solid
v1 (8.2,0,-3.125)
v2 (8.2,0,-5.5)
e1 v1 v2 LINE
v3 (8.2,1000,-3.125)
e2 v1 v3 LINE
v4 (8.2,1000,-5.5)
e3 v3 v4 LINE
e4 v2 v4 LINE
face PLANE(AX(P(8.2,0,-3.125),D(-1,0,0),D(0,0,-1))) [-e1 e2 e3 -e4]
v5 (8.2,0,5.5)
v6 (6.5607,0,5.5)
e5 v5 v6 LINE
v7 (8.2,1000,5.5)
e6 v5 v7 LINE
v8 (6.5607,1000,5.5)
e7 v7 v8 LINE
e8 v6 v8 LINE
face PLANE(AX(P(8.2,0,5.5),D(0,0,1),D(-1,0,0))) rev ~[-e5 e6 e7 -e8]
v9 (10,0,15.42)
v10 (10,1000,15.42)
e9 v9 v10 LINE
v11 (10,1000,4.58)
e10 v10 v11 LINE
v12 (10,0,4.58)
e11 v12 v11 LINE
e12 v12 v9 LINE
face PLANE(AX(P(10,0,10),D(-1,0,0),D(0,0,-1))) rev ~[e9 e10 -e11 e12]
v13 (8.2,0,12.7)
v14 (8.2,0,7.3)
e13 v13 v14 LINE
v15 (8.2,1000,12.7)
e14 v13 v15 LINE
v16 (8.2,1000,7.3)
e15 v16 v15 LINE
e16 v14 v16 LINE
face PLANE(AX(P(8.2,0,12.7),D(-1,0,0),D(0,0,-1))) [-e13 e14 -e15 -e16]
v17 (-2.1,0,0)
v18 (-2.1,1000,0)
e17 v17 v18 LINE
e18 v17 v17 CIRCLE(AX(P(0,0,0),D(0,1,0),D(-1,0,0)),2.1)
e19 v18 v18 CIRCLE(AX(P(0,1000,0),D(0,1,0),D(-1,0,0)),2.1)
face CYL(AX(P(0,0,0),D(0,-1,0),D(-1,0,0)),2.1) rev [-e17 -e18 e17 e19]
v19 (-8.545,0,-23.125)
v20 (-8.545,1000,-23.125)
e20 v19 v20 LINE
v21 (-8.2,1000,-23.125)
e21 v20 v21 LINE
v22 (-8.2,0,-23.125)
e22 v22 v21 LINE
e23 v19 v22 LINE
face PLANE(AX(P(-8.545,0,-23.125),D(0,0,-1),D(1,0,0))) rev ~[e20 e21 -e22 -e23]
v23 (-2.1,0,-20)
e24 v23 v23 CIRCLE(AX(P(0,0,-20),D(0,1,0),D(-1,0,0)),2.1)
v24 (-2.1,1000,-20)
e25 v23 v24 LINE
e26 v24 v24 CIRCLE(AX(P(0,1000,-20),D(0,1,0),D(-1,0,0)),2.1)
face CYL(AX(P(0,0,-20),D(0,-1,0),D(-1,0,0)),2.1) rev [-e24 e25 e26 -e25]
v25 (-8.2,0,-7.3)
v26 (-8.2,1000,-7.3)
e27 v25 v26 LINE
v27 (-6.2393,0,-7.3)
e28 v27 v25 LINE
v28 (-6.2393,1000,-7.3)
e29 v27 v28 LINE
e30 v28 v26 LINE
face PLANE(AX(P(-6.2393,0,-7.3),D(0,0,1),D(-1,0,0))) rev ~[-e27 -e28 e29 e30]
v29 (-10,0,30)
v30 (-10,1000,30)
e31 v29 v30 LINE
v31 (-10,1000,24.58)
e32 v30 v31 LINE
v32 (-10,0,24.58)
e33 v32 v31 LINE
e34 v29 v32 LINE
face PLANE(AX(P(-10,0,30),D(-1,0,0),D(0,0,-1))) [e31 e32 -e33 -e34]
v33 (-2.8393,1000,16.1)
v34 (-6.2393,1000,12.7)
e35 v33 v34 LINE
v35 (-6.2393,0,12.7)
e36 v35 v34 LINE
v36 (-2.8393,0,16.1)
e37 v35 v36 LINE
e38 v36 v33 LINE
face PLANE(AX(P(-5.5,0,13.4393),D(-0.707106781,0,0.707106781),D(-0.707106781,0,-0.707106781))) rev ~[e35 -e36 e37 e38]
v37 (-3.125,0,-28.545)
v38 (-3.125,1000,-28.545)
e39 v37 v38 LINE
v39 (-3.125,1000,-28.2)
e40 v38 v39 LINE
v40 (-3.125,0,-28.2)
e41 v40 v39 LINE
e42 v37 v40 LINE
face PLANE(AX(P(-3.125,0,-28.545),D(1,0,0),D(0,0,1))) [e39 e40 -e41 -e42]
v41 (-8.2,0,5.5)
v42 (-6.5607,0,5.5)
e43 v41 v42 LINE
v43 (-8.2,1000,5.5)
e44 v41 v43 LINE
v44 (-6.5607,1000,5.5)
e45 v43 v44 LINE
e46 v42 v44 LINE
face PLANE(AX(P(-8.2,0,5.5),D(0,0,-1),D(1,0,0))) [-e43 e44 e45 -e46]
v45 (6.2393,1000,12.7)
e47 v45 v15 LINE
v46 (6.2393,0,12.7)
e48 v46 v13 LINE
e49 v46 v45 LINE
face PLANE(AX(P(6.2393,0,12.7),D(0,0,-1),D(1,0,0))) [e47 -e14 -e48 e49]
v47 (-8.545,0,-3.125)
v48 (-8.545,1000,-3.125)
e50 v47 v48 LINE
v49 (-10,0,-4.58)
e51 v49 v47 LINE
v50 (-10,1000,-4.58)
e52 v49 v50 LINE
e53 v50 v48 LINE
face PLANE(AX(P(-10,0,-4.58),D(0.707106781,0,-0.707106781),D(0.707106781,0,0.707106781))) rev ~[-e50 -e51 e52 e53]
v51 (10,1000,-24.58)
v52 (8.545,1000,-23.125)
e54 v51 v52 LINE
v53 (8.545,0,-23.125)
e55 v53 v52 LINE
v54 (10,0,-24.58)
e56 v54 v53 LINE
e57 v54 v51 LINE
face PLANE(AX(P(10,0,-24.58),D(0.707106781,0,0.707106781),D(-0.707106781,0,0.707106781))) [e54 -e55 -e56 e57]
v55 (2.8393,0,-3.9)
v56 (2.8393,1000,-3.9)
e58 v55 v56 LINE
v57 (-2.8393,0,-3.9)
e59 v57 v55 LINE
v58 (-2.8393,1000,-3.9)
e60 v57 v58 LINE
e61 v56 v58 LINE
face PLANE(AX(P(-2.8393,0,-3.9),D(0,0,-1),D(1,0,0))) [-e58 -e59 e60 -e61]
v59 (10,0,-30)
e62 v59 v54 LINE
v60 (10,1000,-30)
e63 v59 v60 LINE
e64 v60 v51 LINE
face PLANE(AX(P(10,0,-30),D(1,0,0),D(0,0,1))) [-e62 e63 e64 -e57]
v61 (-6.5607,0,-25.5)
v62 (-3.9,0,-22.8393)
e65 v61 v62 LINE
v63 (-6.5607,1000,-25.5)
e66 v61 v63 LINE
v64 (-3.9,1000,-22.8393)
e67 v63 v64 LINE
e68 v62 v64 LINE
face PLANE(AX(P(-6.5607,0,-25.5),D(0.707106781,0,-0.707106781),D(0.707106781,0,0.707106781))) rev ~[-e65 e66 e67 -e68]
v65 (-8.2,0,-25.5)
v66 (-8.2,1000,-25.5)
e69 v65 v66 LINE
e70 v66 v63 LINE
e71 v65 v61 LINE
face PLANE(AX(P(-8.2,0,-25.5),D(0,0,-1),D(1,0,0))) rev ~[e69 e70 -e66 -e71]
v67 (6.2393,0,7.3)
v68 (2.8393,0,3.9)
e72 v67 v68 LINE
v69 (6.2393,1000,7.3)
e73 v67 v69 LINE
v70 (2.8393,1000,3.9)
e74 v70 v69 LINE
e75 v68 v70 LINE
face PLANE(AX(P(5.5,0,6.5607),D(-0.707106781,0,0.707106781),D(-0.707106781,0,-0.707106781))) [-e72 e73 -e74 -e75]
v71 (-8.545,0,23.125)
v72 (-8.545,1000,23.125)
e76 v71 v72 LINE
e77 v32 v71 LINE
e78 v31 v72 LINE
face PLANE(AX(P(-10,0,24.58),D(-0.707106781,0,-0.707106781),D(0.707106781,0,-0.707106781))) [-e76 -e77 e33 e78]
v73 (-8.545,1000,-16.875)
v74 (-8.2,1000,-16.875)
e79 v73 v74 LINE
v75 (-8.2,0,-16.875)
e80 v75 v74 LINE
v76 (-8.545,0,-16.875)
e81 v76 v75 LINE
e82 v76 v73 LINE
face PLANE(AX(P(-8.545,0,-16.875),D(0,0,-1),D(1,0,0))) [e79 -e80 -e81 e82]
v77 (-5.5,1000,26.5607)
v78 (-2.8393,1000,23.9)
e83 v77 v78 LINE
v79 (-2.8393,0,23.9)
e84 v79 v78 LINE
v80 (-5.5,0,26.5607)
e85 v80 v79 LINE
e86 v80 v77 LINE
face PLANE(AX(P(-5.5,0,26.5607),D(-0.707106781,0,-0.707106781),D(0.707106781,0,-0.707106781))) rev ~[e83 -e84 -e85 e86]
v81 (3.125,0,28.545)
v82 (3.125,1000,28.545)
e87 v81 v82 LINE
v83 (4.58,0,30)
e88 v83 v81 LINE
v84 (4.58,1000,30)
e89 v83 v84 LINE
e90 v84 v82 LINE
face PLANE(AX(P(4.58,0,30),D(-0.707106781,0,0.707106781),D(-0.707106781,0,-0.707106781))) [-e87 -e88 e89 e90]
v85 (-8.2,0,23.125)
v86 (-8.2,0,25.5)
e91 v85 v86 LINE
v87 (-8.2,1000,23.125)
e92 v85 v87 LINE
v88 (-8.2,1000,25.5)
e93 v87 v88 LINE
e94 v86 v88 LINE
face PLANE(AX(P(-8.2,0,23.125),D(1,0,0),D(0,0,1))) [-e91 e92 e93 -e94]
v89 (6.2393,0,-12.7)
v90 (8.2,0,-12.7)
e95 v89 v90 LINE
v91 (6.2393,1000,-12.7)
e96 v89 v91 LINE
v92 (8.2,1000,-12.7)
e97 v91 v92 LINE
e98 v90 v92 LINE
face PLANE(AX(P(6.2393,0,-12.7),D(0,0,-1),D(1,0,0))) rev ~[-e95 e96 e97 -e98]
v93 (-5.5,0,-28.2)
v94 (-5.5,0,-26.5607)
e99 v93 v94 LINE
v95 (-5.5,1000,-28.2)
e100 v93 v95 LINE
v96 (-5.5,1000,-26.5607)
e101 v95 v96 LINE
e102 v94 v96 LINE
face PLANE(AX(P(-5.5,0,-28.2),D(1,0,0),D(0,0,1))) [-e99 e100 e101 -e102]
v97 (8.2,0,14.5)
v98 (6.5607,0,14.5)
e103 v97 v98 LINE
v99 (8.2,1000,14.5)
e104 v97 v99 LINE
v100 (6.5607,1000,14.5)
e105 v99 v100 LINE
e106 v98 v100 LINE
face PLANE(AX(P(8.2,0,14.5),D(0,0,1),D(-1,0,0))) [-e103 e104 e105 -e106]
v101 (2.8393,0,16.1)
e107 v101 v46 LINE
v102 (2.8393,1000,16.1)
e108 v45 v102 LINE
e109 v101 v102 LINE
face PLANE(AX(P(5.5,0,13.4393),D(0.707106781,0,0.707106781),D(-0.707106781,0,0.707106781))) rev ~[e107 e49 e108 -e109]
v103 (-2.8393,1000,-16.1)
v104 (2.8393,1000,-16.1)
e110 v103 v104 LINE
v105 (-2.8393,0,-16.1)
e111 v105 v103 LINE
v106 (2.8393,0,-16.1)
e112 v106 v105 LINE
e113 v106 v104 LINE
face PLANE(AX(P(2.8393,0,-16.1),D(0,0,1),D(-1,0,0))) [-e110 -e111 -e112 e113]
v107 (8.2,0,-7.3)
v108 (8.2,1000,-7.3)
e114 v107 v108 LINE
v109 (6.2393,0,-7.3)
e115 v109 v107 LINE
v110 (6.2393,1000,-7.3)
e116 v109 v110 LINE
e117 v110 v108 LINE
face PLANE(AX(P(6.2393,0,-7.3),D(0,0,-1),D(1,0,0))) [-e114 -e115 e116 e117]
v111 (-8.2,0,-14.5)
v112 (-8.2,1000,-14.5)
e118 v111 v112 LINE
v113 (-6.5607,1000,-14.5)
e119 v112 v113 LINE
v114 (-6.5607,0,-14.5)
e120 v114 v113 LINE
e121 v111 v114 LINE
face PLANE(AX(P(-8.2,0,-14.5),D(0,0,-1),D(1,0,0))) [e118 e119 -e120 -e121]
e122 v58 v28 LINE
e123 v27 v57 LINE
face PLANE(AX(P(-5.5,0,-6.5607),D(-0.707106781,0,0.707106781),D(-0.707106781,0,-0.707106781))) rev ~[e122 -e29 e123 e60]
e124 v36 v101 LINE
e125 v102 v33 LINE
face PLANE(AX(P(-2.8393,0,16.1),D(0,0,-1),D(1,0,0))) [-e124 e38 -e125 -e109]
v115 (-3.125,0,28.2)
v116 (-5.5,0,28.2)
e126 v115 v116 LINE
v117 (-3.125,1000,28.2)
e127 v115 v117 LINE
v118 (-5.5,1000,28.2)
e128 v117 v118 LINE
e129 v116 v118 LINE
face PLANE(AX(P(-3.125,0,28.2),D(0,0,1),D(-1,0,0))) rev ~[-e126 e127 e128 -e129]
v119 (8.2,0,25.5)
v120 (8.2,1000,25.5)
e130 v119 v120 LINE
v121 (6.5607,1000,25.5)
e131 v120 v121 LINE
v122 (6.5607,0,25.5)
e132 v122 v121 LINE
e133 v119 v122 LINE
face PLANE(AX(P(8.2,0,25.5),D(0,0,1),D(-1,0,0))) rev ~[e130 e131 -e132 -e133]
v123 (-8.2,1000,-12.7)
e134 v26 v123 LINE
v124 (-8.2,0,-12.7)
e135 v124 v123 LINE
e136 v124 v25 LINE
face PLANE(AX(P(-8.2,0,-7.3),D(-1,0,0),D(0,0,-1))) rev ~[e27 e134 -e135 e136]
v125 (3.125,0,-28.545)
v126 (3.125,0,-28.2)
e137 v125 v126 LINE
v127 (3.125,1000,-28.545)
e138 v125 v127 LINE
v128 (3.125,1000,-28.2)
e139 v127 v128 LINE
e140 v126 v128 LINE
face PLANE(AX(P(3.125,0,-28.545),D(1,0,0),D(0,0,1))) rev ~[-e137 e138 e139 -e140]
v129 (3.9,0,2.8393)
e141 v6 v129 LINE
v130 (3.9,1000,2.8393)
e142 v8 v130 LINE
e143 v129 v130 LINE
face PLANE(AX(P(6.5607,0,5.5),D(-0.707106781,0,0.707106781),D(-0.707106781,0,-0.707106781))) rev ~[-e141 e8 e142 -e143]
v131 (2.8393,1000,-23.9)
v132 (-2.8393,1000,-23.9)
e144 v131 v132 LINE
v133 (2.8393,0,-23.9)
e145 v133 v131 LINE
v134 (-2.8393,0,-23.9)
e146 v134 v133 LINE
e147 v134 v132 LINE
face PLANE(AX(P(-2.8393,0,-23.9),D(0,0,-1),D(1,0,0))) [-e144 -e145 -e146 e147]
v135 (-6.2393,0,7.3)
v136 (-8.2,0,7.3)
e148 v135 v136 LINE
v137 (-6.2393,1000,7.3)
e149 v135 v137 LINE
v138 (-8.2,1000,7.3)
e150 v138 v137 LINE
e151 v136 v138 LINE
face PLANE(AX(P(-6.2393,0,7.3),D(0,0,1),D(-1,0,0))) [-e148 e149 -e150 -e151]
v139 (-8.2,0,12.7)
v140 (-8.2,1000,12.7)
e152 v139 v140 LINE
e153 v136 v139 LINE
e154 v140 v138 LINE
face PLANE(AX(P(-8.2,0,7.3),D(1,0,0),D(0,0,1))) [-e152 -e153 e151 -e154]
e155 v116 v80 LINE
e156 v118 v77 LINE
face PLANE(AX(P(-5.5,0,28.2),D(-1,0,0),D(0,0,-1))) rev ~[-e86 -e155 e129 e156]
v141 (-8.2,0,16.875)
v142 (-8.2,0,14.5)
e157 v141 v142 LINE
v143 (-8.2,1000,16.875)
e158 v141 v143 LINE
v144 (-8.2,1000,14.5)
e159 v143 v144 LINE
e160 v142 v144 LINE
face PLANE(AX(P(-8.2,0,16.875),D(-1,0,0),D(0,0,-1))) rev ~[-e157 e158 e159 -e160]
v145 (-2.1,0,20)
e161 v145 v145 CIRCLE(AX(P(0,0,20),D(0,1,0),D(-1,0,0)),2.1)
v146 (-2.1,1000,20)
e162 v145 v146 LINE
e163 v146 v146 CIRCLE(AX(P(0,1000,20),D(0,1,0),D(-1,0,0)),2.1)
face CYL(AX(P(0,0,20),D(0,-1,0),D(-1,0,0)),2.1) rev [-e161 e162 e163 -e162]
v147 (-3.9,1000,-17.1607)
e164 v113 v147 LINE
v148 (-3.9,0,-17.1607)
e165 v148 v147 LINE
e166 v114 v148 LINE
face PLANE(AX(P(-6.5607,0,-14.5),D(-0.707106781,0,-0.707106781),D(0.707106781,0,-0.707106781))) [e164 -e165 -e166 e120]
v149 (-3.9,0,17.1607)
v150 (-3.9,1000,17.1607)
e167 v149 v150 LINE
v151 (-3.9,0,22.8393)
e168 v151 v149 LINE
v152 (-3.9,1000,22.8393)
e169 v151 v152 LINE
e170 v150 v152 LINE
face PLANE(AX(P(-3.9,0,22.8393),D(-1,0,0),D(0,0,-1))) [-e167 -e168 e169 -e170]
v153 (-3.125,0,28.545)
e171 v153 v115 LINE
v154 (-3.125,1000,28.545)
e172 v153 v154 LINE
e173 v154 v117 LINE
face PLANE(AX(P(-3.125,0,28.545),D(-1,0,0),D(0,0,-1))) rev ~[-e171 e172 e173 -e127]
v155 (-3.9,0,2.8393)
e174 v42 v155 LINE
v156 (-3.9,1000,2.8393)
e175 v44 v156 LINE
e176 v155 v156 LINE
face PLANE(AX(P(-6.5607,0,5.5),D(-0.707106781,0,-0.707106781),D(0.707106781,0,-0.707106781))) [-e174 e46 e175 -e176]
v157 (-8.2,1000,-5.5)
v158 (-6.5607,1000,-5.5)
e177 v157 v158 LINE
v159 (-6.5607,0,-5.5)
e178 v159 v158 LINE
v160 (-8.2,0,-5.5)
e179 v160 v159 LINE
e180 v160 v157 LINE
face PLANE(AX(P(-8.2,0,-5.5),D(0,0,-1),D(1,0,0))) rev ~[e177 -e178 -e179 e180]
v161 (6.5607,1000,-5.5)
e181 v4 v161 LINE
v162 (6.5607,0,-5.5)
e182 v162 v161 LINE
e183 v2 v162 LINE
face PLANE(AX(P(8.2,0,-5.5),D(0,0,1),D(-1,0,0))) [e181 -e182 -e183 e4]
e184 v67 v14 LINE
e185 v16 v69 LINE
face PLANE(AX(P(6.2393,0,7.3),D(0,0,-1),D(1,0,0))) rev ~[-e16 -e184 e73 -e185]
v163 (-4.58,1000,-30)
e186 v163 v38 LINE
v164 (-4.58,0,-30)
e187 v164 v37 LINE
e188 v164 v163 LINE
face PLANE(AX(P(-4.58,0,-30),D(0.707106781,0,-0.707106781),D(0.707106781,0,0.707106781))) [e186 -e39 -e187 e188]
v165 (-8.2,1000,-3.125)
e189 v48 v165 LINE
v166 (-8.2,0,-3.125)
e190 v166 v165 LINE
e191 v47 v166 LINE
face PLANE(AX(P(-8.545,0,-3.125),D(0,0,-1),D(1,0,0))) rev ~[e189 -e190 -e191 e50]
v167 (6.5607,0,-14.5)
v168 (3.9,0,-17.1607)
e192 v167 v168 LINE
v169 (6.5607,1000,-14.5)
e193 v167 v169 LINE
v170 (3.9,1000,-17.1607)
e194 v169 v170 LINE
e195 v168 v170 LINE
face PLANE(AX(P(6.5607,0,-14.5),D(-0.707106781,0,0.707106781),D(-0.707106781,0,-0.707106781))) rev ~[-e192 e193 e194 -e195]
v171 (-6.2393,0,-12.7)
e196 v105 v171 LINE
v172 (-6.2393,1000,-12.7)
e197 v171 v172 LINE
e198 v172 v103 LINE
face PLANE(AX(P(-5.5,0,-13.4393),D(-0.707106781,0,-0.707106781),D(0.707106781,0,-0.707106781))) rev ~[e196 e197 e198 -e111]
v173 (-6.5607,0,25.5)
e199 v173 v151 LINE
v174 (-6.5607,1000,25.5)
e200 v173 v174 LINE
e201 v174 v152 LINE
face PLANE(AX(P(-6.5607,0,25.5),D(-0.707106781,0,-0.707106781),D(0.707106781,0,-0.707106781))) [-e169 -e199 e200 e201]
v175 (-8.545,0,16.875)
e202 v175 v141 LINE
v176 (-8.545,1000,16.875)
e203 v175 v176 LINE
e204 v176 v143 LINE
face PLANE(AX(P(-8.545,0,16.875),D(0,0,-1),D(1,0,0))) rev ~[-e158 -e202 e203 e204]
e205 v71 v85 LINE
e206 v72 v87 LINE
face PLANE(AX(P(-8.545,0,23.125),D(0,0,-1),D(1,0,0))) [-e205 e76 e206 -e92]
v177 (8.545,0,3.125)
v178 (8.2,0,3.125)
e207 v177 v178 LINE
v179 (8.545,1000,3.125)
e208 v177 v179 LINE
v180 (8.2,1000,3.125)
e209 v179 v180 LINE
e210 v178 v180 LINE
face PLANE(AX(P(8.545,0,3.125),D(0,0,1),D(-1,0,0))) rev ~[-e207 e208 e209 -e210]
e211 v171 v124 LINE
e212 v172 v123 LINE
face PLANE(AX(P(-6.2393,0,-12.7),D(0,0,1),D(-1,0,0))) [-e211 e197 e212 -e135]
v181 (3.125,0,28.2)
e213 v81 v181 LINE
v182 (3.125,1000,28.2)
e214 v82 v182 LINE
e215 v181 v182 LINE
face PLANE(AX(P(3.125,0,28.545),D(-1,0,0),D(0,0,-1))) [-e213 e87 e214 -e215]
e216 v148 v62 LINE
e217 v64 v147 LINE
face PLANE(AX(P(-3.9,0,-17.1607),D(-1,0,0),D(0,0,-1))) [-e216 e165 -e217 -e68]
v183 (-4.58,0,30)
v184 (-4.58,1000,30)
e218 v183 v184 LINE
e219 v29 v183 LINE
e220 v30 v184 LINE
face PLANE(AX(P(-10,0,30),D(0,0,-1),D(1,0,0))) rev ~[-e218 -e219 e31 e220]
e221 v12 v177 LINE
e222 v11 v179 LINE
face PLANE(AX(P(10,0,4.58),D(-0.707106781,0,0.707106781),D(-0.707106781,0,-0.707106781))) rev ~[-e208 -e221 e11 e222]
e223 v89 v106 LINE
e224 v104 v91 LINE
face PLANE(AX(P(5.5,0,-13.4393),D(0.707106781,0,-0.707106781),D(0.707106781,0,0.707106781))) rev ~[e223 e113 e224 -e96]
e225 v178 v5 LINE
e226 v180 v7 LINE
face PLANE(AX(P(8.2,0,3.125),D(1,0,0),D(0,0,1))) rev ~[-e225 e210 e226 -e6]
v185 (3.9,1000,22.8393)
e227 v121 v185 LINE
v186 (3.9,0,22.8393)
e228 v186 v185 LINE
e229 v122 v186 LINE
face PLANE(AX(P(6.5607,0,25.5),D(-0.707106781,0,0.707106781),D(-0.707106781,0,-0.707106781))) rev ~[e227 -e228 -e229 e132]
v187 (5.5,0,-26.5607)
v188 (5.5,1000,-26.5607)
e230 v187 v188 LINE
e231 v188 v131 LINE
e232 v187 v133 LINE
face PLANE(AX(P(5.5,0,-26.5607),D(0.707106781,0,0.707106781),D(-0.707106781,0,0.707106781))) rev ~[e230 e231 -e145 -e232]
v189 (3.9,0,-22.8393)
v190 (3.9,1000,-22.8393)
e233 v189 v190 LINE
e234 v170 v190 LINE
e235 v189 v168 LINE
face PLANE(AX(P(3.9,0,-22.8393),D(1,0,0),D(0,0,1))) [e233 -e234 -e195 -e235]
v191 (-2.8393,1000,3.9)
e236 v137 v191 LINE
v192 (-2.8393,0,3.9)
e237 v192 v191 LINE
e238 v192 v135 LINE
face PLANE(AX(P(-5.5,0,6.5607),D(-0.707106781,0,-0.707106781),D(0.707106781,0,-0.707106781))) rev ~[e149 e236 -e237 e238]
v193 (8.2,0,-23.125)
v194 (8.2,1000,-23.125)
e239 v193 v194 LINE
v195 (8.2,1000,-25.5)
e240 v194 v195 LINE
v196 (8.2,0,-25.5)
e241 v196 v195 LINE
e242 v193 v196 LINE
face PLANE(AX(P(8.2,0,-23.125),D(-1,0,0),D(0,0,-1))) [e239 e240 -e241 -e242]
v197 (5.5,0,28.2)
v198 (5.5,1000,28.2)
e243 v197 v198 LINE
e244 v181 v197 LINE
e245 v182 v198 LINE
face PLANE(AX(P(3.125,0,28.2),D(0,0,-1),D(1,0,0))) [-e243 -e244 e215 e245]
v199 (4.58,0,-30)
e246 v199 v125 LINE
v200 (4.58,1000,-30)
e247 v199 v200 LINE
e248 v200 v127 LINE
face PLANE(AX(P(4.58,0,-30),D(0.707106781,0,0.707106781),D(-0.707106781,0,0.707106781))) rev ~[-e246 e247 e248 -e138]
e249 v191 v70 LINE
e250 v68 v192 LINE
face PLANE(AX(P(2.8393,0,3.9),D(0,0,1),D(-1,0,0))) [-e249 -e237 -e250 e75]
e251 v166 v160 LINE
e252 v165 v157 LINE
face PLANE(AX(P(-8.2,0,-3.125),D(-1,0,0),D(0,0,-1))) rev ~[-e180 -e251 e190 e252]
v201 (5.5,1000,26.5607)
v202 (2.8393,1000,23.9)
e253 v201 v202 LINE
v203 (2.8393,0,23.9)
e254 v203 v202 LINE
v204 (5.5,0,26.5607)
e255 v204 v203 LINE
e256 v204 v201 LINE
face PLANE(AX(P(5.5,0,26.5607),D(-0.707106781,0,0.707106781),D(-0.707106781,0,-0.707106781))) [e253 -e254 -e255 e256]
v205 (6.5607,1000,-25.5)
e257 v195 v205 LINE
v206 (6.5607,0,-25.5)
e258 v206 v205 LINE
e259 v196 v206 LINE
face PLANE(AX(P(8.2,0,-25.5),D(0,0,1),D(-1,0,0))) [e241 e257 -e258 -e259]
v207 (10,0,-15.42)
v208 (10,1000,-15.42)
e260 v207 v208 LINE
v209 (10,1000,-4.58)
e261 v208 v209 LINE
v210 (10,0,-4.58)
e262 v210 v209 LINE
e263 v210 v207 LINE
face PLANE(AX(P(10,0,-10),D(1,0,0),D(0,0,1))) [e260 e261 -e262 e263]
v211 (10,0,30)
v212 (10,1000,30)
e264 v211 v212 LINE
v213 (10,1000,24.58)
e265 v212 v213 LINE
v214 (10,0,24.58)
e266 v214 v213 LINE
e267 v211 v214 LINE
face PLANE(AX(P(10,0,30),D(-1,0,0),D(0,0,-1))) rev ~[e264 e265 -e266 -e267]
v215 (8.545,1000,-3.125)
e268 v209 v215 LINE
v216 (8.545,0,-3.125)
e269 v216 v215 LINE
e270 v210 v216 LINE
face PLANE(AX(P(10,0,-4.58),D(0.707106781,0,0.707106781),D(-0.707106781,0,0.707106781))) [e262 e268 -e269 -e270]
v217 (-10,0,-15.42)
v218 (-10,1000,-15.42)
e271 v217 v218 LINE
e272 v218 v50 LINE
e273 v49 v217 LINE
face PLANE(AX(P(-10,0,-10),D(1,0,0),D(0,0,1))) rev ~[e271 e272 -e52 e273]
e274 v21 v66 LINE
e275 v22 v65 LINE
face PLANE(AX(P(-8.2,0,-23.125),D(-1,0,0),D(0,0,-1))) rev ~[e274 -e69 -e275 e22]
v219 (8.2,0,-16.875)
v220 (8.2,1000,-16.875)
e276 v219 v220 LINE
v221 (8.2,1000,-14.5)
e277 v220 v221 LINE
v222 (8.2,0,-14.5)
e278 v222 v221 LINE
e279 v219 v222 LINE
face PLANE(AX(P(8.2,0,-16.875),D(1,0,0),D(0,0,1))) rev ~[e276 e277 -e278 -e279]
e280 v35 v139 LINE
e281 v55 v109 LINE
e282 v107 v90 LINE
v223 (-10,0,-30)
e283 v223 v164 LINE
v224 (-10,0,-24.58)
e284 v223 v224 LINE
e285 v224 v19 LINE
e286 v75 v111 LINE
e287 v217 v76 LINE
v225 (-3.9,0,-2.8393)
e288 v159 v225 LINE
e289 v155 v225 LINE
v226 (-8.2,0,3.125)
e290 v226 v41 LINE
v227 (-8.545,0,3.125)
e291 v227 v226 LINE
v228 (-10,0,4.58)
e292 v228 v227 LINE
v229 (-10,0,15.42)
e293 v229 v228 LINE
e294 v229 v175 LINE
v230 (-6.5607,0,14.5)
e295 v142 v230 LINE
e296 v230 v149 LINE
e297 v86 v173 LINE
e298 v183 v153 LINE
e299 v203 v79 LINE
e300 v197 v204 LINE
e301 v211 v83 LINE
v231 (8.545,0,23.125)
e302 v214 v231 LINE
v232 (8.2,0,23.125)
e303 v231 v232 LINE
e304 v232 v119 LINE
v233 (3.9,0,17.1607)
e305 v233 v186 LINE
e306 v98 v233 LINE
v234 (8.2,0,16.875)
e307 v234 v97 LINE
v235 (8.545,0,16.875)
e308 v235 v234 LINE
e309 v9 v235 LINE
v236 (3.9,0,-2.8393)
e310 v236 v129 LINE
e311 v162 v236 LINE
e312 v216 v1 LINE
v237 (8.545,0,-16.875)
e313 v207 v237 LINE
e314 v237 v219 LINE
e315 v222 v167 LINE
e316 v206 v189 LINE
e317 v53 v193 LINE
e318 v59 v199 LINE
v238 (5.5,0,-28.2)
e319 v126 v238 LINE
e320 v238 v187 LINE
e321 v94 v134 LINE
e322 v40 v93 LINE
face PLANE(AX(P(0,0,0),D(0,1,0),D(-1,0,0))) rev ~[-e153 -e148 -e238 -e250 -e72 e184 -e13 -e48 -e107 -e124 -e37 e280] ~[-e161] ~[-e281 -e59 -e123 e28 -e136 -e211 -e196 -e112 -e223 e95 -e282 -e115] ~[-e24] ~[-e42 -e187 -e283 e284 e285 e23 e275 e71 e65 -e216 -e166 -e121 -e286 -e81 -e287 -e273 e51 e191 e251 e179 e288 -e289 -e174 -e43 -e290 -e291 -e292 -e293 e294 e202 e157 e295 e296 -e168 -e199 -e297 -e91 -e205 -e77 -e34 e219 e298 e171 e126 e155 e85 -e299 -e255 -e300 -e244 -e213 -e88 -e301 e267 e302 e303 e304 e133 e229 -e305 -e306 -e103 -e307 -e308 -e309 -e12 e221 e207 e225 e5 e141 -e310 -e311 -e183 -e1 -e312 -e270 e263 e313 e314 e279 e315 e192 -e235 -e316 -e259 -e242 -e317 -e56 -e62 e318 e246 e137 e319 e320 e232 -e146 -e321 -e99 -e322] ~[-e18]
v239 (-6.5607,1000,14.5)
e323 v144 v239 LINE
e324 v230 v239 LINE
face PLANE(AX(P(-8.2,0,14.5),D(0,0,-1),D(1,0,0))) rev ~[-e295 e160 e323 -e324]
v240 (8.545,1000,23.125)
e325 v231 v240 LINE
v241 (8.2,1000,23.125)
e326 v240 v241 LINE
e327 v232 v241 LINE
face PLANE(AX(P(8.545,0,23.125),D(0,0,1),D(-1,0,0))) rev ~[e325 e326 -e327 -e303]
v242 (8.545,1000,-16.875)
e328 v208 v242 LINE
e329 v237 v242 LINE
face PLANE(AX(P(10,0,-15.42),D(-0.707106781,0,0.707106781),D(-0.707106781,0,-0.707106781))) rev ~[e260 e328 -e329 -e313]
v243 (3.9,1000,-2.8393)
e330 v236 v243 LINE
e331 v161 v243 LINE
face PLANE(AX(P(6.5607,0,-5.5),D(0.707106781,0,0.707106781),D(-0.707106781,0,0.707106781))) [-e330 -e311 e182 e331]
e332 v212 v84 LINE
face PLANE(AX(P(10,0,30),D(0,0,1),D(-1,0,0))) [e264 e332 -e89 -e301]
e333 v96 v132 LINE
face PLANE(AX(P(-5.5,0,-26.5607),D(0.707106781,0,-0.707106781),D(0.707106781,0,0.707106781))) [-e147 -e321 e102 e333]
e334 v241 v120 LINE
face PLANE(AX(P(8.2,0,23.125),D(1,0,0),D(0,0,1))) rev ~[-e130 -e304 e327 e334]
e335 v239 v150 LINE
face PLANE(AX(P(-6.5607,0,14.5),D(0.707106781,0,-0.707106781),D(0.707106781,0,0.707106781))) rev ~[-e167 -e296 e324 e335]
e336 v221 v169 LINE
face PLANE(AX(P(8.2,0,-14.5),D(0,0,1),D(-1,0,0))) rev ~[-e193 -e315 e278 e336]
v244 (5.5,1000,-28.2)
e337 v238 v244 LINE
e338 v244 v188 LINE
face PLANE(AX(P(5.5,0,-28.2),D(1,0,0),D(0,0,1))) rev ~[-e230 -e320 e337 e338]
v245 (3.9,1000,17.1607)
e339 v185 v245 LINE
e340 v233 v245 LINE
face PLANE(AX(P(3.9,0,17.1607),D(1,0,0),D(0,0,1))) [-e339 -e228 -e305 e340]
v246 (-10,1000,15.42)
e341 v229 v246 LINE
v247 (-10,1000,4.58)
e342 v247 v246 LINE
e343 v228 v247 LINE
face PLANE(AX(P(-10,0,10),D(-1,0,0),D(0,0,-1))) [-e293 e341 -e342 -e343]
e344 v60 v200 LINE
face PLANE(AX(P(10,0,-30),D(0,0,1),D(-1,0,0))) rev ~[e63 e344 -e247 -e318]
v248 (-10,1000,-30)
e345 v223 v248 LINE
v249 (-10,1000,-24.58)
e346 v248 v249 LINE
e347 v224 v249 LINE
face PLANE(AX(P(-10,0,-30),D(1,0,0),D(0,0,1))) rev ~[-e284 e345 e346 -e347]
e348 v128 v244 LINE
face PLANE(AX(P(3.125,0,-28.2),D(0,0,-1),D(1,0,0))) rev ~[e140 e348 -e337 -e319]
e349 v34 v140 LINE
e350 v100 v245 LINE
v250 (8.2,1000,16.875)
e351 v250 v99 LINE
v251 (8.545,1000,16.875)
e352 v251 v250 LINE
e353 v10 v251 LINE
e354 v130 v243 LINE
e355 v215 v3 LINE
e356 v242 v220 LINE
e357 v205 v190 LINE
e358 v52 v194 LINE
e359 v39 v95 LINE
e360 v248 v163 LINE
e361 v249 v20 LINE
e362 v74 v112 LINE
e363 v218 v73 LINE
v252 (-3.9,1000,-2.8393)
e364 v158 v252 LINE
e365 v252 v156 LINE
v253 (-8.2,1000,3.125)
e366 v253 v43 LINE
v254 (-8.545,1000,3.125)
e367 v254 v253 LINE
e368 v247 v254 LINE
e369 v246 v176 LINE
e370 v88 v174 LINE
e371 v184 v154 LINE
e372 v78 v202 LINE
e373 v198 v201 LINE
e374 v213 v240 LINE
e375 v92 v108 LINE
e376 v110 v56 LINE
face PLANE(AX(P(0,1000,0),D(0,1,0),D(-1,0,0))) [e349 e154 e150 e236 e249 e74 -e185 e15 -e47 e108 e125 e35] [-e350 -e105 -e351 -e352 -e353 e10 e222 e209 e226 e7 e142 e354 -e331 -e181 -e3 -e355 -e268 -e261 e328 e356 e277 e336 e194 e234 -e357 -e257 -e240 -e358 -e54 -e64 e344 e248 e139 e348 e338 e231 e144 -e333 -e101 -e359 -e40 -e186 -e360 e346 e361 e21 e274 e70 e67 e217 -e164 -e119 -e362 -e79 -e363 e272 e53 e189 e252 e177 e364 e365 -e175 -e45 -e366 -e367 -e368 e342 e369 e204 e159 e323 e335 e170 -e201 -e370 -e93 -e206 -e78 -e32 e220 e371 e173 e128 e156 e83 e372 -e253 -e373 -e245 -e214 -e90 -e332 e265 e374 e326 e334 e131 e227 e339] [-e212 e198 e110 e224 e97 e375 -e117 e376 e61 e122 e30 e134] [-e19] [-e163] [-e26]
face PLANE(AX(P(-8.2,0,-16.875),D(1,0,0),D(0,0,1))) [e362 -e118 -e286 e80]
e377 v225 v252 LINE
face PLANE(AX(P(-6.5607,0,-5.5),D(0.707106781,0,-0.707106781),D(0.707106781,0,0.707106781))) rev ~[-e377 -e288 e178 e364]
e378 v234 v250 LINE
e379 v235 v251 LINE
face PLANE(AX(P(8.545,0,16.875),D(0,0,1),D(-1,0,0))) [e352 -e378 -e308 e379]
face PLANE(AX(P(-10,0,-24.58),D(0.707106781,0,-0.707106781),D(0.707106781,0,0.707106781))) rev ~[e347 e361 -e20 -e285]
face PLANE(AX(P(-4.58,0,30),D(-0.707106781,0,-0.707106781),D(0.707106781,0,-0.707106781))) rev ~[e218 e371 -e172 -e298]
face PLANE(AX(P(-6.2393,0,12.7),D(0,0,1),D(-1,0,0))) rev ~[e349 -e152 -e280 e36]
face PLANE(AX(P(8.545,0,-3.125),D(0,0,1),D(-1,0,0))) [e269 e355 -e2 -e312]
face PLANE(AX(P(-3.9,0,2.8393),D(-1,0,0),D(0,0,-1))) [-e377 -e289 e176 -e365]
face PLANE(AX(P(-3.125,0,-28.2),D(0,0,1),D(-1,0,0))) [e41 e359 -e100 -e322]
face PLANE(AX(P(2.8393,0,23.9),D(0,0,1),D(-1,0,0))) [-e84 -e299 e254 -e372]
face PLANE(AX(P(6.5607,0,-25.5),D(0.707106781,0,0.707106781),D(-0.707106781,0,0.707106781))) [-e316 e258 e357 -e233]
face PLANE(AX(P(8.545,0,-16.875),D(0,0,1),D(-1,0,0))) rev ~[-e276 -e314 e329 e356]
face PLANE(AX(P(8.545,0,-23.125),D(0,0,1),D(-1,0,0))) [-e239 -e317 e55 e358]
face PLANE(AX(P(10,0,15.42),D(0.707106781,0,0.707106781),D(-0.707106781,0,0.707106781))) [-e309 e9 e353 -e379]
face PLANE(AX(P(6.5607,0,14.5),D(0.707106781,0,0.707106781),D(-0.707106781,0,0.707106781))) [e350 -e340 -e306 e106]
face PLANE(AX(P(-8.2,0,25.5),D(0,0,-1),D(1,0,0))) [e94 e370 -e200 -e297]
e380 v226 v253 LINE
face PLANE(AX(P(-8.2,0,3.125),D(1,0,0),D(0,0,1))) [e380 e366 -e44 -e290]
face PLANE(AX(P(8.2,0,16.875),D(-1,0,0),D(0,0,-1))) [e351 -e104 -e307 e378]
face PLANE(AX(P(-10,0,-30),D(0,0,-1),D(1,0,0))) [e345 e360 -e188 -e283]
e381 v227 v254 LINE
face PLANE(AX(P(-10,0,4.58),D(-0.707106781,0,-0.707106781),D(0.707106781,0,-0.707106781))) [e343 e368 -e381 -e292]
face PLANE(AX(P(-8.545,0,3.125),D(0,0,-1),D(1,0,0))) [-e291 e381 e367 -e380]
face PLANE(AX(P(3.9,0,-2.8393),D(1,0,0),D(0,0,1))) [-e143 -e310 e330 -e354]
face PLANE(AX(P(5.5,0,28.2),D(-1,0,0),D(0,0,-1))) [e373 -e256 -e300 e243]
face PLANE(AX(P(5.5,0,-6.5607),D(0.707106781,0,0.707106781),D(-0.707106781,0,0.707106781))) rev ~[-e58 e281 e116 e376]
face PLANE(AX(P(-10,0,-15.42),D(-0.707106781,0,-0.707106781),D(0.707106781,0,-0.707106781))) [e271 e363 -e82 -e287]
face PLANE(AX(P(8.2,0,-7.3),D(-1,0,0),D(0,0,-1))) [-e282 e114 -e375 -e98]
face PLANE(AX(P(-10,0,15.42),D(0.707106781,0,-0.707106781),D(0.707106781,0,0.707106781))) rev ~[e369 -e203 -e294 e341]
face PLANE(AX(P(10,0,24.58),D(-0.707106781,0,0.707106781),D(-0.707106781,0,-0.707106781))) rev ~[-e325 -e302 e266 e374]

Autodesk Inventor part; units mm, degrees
sketch "Sketch1" plane through (0, 0, 0) normal (0, 1, 0) x (-1, 0, 0)
  circle A0 centre (0, 0) radius 2.1
  line L0 (10, 10) -> (-10, 10) construction
  line L1 (-10, 10) -> (-10, -10) construction
  line L2 (-10, -10) -> (10, -10)
  line L3 (10, -10) -> (10, 10) construction
  line L4 (10, 10) -> (-10, -10) construction
  line L5 (-10, 10) -> (10, -10) construction
  line L6 (8.2, 10) -> (8.2, -10) construction
  line L7 (3.9, 10) -> (3.9, -10) construction
  line L8 (8.2, 3.125) -> (8.2, -3.125) construction
  line L9 (10, 4.58) -> (10, -4.58) construction
  line L10 (8.2, 5.5) -> (8.2, -5.5) construction
  line L11 (3.3697, 4.4303) -> (4.4303, 3.3697) construction
  line L12 (10, 10) -> (10, 4.58)
  line L13 (10, 4.58) -> (8.545, 3.125)
  line L14 (8.545, 3.125) -> (8.2, 3.125)
  line L15 (8.2, 3.125) -> (8.2, 5.5)
  line L16 (14, 0) -> (-14, 0) construction
  line L17 (8.2, 5.5) -> (6.5607, 5.5)
  line L18 (6.5607, 5.5) -> (3.9, 2.8393)
  line L19 (3.9, 2.8393) -> (3.9, 0)
  line L20 (10, -10) -> (10, -4.58)
  line L21 (10, -4.58) -> (8.545, -3.125)
  line L22 (8.545, -3.125) -> (8.2, -3.125)
  line L23 (8.2, -3.125) -> (8.2, -5.5)
  line L24 (8.2, -5.5) -> (6.5607, -5.5)
  line L25 (6.5607, -5.5) -> (3.9, -2.8393)
  line L26 (3.9, -2.8393) -> (3.9, 0)
  line L27 (-10, 10) -> (-4.58, 10)
  line L28 (-4.58, 10) -> (-3.125, 8.545)
  line L29 (-3.125, 8.2) -> (-5.5, 8.2)
  line L30 (-5.5, 8.2) -> (-5.5, 6.5607)
  line L31 (-5.5, 6.5607) -> (-2.8393, 3.9)
  line L32 (-2.8393, 3.9) -> (0, 3.9)
  line L33 (2.8393, 3.9) -> (0, 3.9)
  line L34 (5.5, 6.5607) -> (2.8393, 3.9)
  line L35 (5.5, 8.2) -> (5.5, 6.5607)
  line L36 (3.125, 8.2) -> (5.5, 8.2)
  line L37 (3.125, 8.545) -> (3.125, 8.2)
  line L38 (4.58, 10) -> (3.125, 8.545)
  line L39 (-3.125, 8.545) -> (-3.125, 8.2)
  line L40 (10, 10) -> (4.58, 10)
  line L41 (-10, -10) -> (-10, -4.58)
  line L42 (-10, -4.58) -> (-8.545, -3.125)
  line L43 (-8.2, -3.125) -> (-8.2, -5.5)
  line L44 (-8.2, -5.5) -> (-6.5607, -5.5)
  line L45 (-6.5607, -5.5) -> (-3.9, -2.8393)
  line L46 (-3.9, -2.8393) -> (-3.9, 0)
  line L47 (-3.9, 2.8393) -> (-3.9, 0)
  line L48 (-6.5607, 5.5) -> (-3.9, 2.8393)
  line L49 (-8.2, 5.5) -> (-6.5607, 5.5)
  line L50 (-8.2, 3.125) -> (-8.2, 5.5)
  line L51 (-8.545, 3.125) -> (-8.2, 3.125)
  line L52 (-10, 4.58) -> (-8.545, 3.125)
  line L53 (-8.545, -3.125) -> (-8.2, -3.125)
  line L54 (-10, 10) -> (-10, 4.58)
  line L55 (10, -10) -> (4.58, -10) construction
  line L56 (4.58, -10) -> (3.125, -8.545)
  line L57 (3.125, -8.2) -> (5.5, -8.2)
  line L58 (5.5, -8.2) -> (5.5, -6.5607)
  line L59 (5.5, -6.5607) -> (2.8393, -3.9)
  line L60 (2.8393, -3.9) -> (0, -3.9)
  line L61 (-2.8393, -3.9) -> (0, -3.9)
  line L62 (-5.5, -6.5607) -> (-2.8393, -3.9)
  line L63 (-5.5, -8.2) -> (-5.5, -6.5607)
  line L64 (-3.125, -8.2) -> (-5.5, -8.2)
  line L65 (-3.125, -8.545) -> (-3.125, -8.2)
  line L66 (-4.58, -10) -> (-3.125, -8.545)
  line L67 (3.125, -8.545) -> (3.125, -8.2)
  line L68 (-10, -10) -> (-4.58, -10) construction
  line L69 (5.5, -6.5607) -> (6.2393, -7.3)
  line L70 (6.2393, -7.3) -> (8.2, -7.3)
  line L71 (0, -10) -> (0, -9) construction
  line L72 (-5.5, -6.5607) -> (-6.2393, -7.3)
  line L73 (-6.2393, -7.3) -> (-8.2, -7.3)
  line L74 (8.2, -7.3) -> (8.2, -10)
  line L75 (-8.2, -7.3) -> (-8.2, -10)
  circle A1 centre (0, -20) radius 2.1
  line L76 (10, -30) -> (10, -24.58)
  line L77 (10, -24.58) -> (8.545, -23.125)
  line L78 (8.545, -23.125) -> (8.2, -23.125)
  line L79 (8.2, -23.125) -> (8.2, -25.5)
  line L80 (8.2, -25.5) -> (6.5607, -25.5)
  line L81 (6.5607, -25.5) -> (3.9, -22.8393)
  line L82 (3.9, -22.8393) -> (3.9, -20)
  line L83 (10, -10) -> (10, -15.42)
  line L84 (10, -15.42) -> (8.545, -16.875)
  line L85 (8.2, -16.875) -> (8.2, -14.5)
  line L86 (8.2, -14.5) -> (6.5607, -14.5)
  line L87 (6.5607, -14.5) -> (3.9, -17.1607)
  line L88 (3.9, -17.1607) -> (3.9, -20)
  line L89 (-10, -30) -> (-4.58, -30)
  line L90 (-4.58, -30) -> (-3.125, -28.545)
  line L91 (-3.125, -28.2) -> (-5.5, -28.2)
  line L92 (-5.5, -28.2) -> (-5.5, -26.5607)
  line L93 (-5.5, -26.5607) -> (-2.8393, -23.9)
  line L94 (-2.8393, -23.9) -> (0, -23.9)
  line L95 (2.8393, -23.9) -> (0, -23.9)
  line L96 (5.5, -26.5607) -> (2.8393, -23.9)
  line L97 (5.5, -28.2) -> (5.5, -26.5607)
  line L98 (3.125, -28.2) -> (5.5, -28.2)
  line L99 (3.125, -28.545) -> (3.125, -28.2)
  line L100 (4.58, -30) -> (3.125, -28.545)
  line L101 (-3.125, -28.545) -> (-3.125, -28.2)
  line L102 (10, -30) -> (4.58, -30)
  line L103 (-10, -10) -> (-10, -15.42)
  line L104 (-10, -15.42) -> (-8.545, -16.875)
  line L105 (-8.2, -16.875) -> (-8.2, -14.5)
  line L106 (-8.2, -14.5) -> (-6.5607, -14.5)
  line L107 (-6.5607, -14.5) -> (-3.9, -17.1607)
  line L108 (-3.9, -17.1607) -> (-3.9, -20)
  line L109 (-3.9, -22.8393) -> (-3.9, -20)
  line L110 (-6.5607, -25.5) -> (-3.9, -22.8393)
  line L111 (-8.2, -25.5) -> (-6.5607, -25.5)
  line L112 (-8.2, -23.125) -> (-8.2, -25.5)
  line L113 (-8.545, -23.125) -> (-8.2, -23.125)
  line L114 (-10, -24.58) -> (-8.545, -23.125)
  line L115 (-8.545, -16.875) -> (-8.2, -16.875)
  line L116 (-10, -30) -> (-10, -24.58)
  line L117 (5.5, -13.4393) -> (2.8393, -16.1)
  line L118 (2.8393, -16.1) -> (0, -16.1)
  line L119 (-2.8393, -16.1) -> (0, -16.1)
  line L120 (-5.5, -13.4393) -> (-2.8393, -16.1)
  line L121 (5.5, -13.4393) -> (6.2393, -12.7)
  line L122 (6.2393, -12.7) -> (8.2, -12.7)
  line L123 (-5.5, -13.4393) -> (-6.2393, -12.7)
  line L124 (-6.2393, -12.7) -> (-8.2, -12.7)
  line L125 (8.2, -12.7) -> (8.2, -10)
  line L126 (-8.2, -12.7) -> (-8.2, -10)
  line L127 (8.545, -16.875) -> (8.2, -16.875)
  line L128 (5.5, 6.5607) -> (6.2393, 7.3)
  line L129 (6.2393, 7.3) -> (8.2, 7.3)
  line L130 (-5.5, 6.5607) -> (-6.2393, 7.3)
  line L131 (-6.2393, 7.3) -> (-8.2, 7.3)
  line L132 (8.2, 7.3) -> (8.2, 10)
  line L133 (-8.2, 7.3) -> (-8.2, 10)
  line L134 (10, 10) -> (10, 15.42)
  line L135 (10, 15.42) -> (8.545, 16.875)
  line L136 (8.2, 16.875) -> (8.2, 14.5)
  line L137 (8.2, 12.7) -> (8.2, 10)
  line L138 (6.2393, 12.7) -> (8.2, 12.7)
  line L139 (8.2, 14.5) -> (6.5607, 14.5)
  line L140 (6.5607, 14.5) -> (3.9, 17.1607)
  line L141 (5.5, 13.4393) -> (6.2393, 12.7)
  line L142 (5.5, 13.4393) -> (2.8393, 16.1)
  line L143 (2.8393, 16.1) -> (0, 16.1)
  line L144 (-2.8393, 16.1) -> (0, 16.1)
  line L145 (-5.5, 13.4393) -> (-2.8393, 16.1)
  line L146 (-5.5, 13.4393) -> (-6.2393, 12.7)
  line L147 (-6.2393, 12.7) -> (-8.2, 12.7)
  line L148 (-8.2, 12.7) -> (-8.2, 10)
  line L149 (-8.2, 14.5) -> (-6.5607, 14.5)
  line L150 (-6.5607, 14.5) -> (-3.9, 17.1607)
  line L151 (-8.2, 16.875) -> (-8.2, 14.5)
  line L152 (-8.545, 16.875) -> (-8.2, 16.875)
  line L153 (-10, 15.42) -> (-8.545, 16.875)
  line L154 (-10, 10) -> (-10, 15.42)
  line L155 (3.9, 17.1607) -> (3.9, 20)
  line L156 (3.9, 22.8393) -> (3.9, 20)
  circle A2 centre (0, 20) radius 2.1
  line L157 (-3.9, 17.1607) -> (-3.9, 20)
  line L158 (-3.9, 22.8393) -> (-3.9, 20)
  line L159 (6.5607, 25.5) -> (3.9, 22.8393)
  line L160 (8.2, 25.5) -> (6.5607, 25.5)
  line L161 (8.2, 23.125) -> (8.2, 25.5)
  line L162 (8.545, 23.125) -> (8.2, 23.125)
  line L163 (10, 24.58) -> (8.545, 23.125)
  line L164 (10, 30) -> (10, 24.58)
  line L165 (10, 30) -> (4.58, 30)
  line L166 (4.58, 30) -> (3.125, 28.545)
  line L167 (3.125, 28.545) -> (3.125, 28.2)
  line L168 (3.125, 28.2) -> (5.5, 28.2)
  line L169 (5.5, 28.2) -> (5.5, 26.5607)
  line L170 (5.5, 26.5607) -> (2.8393, 23.9)
  line L171 (-2.8393, 23.9) -> (0, 23.9)
  line L172 (2.8393, 23.9) -> (0, 23.9)
  line L173 (-5.5, 26.5607) -> (-2.8393, 23.9)
  line L174 (-5.5, 28.2) -> (-5.5, 26.5607)
  line L175 (-3.125, 28.2) -> (-5.5, 28.2)
  line L176 (-3.125, 28.545) -> (-3.125, 28.2)
  line L177 (-4.58, 30) -> (-3.125, 28.545)
  line L178 (-10, 30) -> (-4.58, 30)
  line L179 (-10, 30) -> (-10, 24.58)
  line L180 (-10, 24.58) -> (-8.545, 23.125)
  line L181 (-8.545, 23.125) -> (-8.2, 23.125)
  line L182 (-8.2, 23.125) -> (-8.2, 25.5)
  line L183 (-8.2, 25.5) -> (-6.5607, 25.5)
  line L184 (-6.5607, 25.5) -> (-3.9, 22.8393)
  line L185 (8.545, 16.875) -> (8.2, 16.875)
  point P0 (10, 0)
  point P1 (8.2, 0)
  point P2 (3.9, 3.9)
  point P3 (-3.3697, 4.4303)
  point P4 (-4.4303, -3.3697)
  point P5 (3.3697, -4.4303)
  dimension "d0" = 4.2
  dimension "d1" = 20
  dimension "d2" = 20
  dimension "d3" = 1.8
  dimension "d4" = 4.3
  dimension "d5" = 6.25
  dimension "d6" = 9.16
  dimension "d7" = 11
  dimension "d8" = 1.5
  dimension "d9" = 45
  dimension "d12" = 360
  dimension "d17" = 1.8
  dimension "d18" = 1
extrude "Extrusion1" add sketch "Sketch1" along normal blind 1000 contours L41 L42 L53 L43 L44 L45 L46 L47 L48 L49 L50 L51 L52 L54 L27 L133 L131 L130 L31 L32 L33 L34 L128 L129 L132 L40 L12 L13 L14 L15 L17 L18 L19 L26 L25 L24 L23 L22 L21 L20 L2 L74 L70 L69 L59 L60 L61 L62 L72 L73 L75 | L2 L126 L124 L123 L120 L119 L118 L117 L121 L122 L125 L83 L84 L127 L85 L86 L87 L88 L82 L81 L80 L79 L78 L77 L76 L102 L100 L99 L98 L97 L96 L95 L94 L93 L92 L91 L101 L90 L89 L116 L114 L113 L112 L111 L110 L109 L108 L107 L106 L105 L115 L104 L103 | L154 L153 L152 L151 L149 L150 L157 L158 L184 L183 L182 L181 L180 L179 L178 L177 L176 L175 L174 L173 L171 L172 L170 L169 L168 L167 L166 L165 L164 L163 L162 L161 L160 L159 L156 L155 L140 L139 L136 L185 L135 L134 L40 L137 L138 L141 L142 L143 L144 L145 L146 L147 L148 L27 | L27 L28 L39 L29 L30 L130 L131 L133 | L132 L129 L128 L35 L36 L37 L38 L40
ref_plane "Work Plane1" through (-2.8393, 0, 0) normal (0, 0, -1) x (-1, 0, 0)
ref_plane "Work Plane2" through (0, 0, -4.58) normal (-1, 0, 0) x (0, 0, 1)
ref_plane "Work Plane3" through (0, 500, 0) normal (0, 1, 0) x (1, 0, 0)
ref_plane "Work Plane5" through (0, 500, 0) normal (0, -1, 0) x (1, 0, 0)
ref_plane "Work Plane7" through (0, 0, -4.58) normal (-1, 0, 0) x (0, 0, 1)
extrude "Extrusion2" cut sketch "Sketch1" along normal through all contours L27 L28 L39 L29 L30 L130 L131 L133 | L132 L129 L128 L35 L36 L37 L38 L40
properties part number "VSLOT 2040 Extrusion x 1m" material "Aluminum 6061"
